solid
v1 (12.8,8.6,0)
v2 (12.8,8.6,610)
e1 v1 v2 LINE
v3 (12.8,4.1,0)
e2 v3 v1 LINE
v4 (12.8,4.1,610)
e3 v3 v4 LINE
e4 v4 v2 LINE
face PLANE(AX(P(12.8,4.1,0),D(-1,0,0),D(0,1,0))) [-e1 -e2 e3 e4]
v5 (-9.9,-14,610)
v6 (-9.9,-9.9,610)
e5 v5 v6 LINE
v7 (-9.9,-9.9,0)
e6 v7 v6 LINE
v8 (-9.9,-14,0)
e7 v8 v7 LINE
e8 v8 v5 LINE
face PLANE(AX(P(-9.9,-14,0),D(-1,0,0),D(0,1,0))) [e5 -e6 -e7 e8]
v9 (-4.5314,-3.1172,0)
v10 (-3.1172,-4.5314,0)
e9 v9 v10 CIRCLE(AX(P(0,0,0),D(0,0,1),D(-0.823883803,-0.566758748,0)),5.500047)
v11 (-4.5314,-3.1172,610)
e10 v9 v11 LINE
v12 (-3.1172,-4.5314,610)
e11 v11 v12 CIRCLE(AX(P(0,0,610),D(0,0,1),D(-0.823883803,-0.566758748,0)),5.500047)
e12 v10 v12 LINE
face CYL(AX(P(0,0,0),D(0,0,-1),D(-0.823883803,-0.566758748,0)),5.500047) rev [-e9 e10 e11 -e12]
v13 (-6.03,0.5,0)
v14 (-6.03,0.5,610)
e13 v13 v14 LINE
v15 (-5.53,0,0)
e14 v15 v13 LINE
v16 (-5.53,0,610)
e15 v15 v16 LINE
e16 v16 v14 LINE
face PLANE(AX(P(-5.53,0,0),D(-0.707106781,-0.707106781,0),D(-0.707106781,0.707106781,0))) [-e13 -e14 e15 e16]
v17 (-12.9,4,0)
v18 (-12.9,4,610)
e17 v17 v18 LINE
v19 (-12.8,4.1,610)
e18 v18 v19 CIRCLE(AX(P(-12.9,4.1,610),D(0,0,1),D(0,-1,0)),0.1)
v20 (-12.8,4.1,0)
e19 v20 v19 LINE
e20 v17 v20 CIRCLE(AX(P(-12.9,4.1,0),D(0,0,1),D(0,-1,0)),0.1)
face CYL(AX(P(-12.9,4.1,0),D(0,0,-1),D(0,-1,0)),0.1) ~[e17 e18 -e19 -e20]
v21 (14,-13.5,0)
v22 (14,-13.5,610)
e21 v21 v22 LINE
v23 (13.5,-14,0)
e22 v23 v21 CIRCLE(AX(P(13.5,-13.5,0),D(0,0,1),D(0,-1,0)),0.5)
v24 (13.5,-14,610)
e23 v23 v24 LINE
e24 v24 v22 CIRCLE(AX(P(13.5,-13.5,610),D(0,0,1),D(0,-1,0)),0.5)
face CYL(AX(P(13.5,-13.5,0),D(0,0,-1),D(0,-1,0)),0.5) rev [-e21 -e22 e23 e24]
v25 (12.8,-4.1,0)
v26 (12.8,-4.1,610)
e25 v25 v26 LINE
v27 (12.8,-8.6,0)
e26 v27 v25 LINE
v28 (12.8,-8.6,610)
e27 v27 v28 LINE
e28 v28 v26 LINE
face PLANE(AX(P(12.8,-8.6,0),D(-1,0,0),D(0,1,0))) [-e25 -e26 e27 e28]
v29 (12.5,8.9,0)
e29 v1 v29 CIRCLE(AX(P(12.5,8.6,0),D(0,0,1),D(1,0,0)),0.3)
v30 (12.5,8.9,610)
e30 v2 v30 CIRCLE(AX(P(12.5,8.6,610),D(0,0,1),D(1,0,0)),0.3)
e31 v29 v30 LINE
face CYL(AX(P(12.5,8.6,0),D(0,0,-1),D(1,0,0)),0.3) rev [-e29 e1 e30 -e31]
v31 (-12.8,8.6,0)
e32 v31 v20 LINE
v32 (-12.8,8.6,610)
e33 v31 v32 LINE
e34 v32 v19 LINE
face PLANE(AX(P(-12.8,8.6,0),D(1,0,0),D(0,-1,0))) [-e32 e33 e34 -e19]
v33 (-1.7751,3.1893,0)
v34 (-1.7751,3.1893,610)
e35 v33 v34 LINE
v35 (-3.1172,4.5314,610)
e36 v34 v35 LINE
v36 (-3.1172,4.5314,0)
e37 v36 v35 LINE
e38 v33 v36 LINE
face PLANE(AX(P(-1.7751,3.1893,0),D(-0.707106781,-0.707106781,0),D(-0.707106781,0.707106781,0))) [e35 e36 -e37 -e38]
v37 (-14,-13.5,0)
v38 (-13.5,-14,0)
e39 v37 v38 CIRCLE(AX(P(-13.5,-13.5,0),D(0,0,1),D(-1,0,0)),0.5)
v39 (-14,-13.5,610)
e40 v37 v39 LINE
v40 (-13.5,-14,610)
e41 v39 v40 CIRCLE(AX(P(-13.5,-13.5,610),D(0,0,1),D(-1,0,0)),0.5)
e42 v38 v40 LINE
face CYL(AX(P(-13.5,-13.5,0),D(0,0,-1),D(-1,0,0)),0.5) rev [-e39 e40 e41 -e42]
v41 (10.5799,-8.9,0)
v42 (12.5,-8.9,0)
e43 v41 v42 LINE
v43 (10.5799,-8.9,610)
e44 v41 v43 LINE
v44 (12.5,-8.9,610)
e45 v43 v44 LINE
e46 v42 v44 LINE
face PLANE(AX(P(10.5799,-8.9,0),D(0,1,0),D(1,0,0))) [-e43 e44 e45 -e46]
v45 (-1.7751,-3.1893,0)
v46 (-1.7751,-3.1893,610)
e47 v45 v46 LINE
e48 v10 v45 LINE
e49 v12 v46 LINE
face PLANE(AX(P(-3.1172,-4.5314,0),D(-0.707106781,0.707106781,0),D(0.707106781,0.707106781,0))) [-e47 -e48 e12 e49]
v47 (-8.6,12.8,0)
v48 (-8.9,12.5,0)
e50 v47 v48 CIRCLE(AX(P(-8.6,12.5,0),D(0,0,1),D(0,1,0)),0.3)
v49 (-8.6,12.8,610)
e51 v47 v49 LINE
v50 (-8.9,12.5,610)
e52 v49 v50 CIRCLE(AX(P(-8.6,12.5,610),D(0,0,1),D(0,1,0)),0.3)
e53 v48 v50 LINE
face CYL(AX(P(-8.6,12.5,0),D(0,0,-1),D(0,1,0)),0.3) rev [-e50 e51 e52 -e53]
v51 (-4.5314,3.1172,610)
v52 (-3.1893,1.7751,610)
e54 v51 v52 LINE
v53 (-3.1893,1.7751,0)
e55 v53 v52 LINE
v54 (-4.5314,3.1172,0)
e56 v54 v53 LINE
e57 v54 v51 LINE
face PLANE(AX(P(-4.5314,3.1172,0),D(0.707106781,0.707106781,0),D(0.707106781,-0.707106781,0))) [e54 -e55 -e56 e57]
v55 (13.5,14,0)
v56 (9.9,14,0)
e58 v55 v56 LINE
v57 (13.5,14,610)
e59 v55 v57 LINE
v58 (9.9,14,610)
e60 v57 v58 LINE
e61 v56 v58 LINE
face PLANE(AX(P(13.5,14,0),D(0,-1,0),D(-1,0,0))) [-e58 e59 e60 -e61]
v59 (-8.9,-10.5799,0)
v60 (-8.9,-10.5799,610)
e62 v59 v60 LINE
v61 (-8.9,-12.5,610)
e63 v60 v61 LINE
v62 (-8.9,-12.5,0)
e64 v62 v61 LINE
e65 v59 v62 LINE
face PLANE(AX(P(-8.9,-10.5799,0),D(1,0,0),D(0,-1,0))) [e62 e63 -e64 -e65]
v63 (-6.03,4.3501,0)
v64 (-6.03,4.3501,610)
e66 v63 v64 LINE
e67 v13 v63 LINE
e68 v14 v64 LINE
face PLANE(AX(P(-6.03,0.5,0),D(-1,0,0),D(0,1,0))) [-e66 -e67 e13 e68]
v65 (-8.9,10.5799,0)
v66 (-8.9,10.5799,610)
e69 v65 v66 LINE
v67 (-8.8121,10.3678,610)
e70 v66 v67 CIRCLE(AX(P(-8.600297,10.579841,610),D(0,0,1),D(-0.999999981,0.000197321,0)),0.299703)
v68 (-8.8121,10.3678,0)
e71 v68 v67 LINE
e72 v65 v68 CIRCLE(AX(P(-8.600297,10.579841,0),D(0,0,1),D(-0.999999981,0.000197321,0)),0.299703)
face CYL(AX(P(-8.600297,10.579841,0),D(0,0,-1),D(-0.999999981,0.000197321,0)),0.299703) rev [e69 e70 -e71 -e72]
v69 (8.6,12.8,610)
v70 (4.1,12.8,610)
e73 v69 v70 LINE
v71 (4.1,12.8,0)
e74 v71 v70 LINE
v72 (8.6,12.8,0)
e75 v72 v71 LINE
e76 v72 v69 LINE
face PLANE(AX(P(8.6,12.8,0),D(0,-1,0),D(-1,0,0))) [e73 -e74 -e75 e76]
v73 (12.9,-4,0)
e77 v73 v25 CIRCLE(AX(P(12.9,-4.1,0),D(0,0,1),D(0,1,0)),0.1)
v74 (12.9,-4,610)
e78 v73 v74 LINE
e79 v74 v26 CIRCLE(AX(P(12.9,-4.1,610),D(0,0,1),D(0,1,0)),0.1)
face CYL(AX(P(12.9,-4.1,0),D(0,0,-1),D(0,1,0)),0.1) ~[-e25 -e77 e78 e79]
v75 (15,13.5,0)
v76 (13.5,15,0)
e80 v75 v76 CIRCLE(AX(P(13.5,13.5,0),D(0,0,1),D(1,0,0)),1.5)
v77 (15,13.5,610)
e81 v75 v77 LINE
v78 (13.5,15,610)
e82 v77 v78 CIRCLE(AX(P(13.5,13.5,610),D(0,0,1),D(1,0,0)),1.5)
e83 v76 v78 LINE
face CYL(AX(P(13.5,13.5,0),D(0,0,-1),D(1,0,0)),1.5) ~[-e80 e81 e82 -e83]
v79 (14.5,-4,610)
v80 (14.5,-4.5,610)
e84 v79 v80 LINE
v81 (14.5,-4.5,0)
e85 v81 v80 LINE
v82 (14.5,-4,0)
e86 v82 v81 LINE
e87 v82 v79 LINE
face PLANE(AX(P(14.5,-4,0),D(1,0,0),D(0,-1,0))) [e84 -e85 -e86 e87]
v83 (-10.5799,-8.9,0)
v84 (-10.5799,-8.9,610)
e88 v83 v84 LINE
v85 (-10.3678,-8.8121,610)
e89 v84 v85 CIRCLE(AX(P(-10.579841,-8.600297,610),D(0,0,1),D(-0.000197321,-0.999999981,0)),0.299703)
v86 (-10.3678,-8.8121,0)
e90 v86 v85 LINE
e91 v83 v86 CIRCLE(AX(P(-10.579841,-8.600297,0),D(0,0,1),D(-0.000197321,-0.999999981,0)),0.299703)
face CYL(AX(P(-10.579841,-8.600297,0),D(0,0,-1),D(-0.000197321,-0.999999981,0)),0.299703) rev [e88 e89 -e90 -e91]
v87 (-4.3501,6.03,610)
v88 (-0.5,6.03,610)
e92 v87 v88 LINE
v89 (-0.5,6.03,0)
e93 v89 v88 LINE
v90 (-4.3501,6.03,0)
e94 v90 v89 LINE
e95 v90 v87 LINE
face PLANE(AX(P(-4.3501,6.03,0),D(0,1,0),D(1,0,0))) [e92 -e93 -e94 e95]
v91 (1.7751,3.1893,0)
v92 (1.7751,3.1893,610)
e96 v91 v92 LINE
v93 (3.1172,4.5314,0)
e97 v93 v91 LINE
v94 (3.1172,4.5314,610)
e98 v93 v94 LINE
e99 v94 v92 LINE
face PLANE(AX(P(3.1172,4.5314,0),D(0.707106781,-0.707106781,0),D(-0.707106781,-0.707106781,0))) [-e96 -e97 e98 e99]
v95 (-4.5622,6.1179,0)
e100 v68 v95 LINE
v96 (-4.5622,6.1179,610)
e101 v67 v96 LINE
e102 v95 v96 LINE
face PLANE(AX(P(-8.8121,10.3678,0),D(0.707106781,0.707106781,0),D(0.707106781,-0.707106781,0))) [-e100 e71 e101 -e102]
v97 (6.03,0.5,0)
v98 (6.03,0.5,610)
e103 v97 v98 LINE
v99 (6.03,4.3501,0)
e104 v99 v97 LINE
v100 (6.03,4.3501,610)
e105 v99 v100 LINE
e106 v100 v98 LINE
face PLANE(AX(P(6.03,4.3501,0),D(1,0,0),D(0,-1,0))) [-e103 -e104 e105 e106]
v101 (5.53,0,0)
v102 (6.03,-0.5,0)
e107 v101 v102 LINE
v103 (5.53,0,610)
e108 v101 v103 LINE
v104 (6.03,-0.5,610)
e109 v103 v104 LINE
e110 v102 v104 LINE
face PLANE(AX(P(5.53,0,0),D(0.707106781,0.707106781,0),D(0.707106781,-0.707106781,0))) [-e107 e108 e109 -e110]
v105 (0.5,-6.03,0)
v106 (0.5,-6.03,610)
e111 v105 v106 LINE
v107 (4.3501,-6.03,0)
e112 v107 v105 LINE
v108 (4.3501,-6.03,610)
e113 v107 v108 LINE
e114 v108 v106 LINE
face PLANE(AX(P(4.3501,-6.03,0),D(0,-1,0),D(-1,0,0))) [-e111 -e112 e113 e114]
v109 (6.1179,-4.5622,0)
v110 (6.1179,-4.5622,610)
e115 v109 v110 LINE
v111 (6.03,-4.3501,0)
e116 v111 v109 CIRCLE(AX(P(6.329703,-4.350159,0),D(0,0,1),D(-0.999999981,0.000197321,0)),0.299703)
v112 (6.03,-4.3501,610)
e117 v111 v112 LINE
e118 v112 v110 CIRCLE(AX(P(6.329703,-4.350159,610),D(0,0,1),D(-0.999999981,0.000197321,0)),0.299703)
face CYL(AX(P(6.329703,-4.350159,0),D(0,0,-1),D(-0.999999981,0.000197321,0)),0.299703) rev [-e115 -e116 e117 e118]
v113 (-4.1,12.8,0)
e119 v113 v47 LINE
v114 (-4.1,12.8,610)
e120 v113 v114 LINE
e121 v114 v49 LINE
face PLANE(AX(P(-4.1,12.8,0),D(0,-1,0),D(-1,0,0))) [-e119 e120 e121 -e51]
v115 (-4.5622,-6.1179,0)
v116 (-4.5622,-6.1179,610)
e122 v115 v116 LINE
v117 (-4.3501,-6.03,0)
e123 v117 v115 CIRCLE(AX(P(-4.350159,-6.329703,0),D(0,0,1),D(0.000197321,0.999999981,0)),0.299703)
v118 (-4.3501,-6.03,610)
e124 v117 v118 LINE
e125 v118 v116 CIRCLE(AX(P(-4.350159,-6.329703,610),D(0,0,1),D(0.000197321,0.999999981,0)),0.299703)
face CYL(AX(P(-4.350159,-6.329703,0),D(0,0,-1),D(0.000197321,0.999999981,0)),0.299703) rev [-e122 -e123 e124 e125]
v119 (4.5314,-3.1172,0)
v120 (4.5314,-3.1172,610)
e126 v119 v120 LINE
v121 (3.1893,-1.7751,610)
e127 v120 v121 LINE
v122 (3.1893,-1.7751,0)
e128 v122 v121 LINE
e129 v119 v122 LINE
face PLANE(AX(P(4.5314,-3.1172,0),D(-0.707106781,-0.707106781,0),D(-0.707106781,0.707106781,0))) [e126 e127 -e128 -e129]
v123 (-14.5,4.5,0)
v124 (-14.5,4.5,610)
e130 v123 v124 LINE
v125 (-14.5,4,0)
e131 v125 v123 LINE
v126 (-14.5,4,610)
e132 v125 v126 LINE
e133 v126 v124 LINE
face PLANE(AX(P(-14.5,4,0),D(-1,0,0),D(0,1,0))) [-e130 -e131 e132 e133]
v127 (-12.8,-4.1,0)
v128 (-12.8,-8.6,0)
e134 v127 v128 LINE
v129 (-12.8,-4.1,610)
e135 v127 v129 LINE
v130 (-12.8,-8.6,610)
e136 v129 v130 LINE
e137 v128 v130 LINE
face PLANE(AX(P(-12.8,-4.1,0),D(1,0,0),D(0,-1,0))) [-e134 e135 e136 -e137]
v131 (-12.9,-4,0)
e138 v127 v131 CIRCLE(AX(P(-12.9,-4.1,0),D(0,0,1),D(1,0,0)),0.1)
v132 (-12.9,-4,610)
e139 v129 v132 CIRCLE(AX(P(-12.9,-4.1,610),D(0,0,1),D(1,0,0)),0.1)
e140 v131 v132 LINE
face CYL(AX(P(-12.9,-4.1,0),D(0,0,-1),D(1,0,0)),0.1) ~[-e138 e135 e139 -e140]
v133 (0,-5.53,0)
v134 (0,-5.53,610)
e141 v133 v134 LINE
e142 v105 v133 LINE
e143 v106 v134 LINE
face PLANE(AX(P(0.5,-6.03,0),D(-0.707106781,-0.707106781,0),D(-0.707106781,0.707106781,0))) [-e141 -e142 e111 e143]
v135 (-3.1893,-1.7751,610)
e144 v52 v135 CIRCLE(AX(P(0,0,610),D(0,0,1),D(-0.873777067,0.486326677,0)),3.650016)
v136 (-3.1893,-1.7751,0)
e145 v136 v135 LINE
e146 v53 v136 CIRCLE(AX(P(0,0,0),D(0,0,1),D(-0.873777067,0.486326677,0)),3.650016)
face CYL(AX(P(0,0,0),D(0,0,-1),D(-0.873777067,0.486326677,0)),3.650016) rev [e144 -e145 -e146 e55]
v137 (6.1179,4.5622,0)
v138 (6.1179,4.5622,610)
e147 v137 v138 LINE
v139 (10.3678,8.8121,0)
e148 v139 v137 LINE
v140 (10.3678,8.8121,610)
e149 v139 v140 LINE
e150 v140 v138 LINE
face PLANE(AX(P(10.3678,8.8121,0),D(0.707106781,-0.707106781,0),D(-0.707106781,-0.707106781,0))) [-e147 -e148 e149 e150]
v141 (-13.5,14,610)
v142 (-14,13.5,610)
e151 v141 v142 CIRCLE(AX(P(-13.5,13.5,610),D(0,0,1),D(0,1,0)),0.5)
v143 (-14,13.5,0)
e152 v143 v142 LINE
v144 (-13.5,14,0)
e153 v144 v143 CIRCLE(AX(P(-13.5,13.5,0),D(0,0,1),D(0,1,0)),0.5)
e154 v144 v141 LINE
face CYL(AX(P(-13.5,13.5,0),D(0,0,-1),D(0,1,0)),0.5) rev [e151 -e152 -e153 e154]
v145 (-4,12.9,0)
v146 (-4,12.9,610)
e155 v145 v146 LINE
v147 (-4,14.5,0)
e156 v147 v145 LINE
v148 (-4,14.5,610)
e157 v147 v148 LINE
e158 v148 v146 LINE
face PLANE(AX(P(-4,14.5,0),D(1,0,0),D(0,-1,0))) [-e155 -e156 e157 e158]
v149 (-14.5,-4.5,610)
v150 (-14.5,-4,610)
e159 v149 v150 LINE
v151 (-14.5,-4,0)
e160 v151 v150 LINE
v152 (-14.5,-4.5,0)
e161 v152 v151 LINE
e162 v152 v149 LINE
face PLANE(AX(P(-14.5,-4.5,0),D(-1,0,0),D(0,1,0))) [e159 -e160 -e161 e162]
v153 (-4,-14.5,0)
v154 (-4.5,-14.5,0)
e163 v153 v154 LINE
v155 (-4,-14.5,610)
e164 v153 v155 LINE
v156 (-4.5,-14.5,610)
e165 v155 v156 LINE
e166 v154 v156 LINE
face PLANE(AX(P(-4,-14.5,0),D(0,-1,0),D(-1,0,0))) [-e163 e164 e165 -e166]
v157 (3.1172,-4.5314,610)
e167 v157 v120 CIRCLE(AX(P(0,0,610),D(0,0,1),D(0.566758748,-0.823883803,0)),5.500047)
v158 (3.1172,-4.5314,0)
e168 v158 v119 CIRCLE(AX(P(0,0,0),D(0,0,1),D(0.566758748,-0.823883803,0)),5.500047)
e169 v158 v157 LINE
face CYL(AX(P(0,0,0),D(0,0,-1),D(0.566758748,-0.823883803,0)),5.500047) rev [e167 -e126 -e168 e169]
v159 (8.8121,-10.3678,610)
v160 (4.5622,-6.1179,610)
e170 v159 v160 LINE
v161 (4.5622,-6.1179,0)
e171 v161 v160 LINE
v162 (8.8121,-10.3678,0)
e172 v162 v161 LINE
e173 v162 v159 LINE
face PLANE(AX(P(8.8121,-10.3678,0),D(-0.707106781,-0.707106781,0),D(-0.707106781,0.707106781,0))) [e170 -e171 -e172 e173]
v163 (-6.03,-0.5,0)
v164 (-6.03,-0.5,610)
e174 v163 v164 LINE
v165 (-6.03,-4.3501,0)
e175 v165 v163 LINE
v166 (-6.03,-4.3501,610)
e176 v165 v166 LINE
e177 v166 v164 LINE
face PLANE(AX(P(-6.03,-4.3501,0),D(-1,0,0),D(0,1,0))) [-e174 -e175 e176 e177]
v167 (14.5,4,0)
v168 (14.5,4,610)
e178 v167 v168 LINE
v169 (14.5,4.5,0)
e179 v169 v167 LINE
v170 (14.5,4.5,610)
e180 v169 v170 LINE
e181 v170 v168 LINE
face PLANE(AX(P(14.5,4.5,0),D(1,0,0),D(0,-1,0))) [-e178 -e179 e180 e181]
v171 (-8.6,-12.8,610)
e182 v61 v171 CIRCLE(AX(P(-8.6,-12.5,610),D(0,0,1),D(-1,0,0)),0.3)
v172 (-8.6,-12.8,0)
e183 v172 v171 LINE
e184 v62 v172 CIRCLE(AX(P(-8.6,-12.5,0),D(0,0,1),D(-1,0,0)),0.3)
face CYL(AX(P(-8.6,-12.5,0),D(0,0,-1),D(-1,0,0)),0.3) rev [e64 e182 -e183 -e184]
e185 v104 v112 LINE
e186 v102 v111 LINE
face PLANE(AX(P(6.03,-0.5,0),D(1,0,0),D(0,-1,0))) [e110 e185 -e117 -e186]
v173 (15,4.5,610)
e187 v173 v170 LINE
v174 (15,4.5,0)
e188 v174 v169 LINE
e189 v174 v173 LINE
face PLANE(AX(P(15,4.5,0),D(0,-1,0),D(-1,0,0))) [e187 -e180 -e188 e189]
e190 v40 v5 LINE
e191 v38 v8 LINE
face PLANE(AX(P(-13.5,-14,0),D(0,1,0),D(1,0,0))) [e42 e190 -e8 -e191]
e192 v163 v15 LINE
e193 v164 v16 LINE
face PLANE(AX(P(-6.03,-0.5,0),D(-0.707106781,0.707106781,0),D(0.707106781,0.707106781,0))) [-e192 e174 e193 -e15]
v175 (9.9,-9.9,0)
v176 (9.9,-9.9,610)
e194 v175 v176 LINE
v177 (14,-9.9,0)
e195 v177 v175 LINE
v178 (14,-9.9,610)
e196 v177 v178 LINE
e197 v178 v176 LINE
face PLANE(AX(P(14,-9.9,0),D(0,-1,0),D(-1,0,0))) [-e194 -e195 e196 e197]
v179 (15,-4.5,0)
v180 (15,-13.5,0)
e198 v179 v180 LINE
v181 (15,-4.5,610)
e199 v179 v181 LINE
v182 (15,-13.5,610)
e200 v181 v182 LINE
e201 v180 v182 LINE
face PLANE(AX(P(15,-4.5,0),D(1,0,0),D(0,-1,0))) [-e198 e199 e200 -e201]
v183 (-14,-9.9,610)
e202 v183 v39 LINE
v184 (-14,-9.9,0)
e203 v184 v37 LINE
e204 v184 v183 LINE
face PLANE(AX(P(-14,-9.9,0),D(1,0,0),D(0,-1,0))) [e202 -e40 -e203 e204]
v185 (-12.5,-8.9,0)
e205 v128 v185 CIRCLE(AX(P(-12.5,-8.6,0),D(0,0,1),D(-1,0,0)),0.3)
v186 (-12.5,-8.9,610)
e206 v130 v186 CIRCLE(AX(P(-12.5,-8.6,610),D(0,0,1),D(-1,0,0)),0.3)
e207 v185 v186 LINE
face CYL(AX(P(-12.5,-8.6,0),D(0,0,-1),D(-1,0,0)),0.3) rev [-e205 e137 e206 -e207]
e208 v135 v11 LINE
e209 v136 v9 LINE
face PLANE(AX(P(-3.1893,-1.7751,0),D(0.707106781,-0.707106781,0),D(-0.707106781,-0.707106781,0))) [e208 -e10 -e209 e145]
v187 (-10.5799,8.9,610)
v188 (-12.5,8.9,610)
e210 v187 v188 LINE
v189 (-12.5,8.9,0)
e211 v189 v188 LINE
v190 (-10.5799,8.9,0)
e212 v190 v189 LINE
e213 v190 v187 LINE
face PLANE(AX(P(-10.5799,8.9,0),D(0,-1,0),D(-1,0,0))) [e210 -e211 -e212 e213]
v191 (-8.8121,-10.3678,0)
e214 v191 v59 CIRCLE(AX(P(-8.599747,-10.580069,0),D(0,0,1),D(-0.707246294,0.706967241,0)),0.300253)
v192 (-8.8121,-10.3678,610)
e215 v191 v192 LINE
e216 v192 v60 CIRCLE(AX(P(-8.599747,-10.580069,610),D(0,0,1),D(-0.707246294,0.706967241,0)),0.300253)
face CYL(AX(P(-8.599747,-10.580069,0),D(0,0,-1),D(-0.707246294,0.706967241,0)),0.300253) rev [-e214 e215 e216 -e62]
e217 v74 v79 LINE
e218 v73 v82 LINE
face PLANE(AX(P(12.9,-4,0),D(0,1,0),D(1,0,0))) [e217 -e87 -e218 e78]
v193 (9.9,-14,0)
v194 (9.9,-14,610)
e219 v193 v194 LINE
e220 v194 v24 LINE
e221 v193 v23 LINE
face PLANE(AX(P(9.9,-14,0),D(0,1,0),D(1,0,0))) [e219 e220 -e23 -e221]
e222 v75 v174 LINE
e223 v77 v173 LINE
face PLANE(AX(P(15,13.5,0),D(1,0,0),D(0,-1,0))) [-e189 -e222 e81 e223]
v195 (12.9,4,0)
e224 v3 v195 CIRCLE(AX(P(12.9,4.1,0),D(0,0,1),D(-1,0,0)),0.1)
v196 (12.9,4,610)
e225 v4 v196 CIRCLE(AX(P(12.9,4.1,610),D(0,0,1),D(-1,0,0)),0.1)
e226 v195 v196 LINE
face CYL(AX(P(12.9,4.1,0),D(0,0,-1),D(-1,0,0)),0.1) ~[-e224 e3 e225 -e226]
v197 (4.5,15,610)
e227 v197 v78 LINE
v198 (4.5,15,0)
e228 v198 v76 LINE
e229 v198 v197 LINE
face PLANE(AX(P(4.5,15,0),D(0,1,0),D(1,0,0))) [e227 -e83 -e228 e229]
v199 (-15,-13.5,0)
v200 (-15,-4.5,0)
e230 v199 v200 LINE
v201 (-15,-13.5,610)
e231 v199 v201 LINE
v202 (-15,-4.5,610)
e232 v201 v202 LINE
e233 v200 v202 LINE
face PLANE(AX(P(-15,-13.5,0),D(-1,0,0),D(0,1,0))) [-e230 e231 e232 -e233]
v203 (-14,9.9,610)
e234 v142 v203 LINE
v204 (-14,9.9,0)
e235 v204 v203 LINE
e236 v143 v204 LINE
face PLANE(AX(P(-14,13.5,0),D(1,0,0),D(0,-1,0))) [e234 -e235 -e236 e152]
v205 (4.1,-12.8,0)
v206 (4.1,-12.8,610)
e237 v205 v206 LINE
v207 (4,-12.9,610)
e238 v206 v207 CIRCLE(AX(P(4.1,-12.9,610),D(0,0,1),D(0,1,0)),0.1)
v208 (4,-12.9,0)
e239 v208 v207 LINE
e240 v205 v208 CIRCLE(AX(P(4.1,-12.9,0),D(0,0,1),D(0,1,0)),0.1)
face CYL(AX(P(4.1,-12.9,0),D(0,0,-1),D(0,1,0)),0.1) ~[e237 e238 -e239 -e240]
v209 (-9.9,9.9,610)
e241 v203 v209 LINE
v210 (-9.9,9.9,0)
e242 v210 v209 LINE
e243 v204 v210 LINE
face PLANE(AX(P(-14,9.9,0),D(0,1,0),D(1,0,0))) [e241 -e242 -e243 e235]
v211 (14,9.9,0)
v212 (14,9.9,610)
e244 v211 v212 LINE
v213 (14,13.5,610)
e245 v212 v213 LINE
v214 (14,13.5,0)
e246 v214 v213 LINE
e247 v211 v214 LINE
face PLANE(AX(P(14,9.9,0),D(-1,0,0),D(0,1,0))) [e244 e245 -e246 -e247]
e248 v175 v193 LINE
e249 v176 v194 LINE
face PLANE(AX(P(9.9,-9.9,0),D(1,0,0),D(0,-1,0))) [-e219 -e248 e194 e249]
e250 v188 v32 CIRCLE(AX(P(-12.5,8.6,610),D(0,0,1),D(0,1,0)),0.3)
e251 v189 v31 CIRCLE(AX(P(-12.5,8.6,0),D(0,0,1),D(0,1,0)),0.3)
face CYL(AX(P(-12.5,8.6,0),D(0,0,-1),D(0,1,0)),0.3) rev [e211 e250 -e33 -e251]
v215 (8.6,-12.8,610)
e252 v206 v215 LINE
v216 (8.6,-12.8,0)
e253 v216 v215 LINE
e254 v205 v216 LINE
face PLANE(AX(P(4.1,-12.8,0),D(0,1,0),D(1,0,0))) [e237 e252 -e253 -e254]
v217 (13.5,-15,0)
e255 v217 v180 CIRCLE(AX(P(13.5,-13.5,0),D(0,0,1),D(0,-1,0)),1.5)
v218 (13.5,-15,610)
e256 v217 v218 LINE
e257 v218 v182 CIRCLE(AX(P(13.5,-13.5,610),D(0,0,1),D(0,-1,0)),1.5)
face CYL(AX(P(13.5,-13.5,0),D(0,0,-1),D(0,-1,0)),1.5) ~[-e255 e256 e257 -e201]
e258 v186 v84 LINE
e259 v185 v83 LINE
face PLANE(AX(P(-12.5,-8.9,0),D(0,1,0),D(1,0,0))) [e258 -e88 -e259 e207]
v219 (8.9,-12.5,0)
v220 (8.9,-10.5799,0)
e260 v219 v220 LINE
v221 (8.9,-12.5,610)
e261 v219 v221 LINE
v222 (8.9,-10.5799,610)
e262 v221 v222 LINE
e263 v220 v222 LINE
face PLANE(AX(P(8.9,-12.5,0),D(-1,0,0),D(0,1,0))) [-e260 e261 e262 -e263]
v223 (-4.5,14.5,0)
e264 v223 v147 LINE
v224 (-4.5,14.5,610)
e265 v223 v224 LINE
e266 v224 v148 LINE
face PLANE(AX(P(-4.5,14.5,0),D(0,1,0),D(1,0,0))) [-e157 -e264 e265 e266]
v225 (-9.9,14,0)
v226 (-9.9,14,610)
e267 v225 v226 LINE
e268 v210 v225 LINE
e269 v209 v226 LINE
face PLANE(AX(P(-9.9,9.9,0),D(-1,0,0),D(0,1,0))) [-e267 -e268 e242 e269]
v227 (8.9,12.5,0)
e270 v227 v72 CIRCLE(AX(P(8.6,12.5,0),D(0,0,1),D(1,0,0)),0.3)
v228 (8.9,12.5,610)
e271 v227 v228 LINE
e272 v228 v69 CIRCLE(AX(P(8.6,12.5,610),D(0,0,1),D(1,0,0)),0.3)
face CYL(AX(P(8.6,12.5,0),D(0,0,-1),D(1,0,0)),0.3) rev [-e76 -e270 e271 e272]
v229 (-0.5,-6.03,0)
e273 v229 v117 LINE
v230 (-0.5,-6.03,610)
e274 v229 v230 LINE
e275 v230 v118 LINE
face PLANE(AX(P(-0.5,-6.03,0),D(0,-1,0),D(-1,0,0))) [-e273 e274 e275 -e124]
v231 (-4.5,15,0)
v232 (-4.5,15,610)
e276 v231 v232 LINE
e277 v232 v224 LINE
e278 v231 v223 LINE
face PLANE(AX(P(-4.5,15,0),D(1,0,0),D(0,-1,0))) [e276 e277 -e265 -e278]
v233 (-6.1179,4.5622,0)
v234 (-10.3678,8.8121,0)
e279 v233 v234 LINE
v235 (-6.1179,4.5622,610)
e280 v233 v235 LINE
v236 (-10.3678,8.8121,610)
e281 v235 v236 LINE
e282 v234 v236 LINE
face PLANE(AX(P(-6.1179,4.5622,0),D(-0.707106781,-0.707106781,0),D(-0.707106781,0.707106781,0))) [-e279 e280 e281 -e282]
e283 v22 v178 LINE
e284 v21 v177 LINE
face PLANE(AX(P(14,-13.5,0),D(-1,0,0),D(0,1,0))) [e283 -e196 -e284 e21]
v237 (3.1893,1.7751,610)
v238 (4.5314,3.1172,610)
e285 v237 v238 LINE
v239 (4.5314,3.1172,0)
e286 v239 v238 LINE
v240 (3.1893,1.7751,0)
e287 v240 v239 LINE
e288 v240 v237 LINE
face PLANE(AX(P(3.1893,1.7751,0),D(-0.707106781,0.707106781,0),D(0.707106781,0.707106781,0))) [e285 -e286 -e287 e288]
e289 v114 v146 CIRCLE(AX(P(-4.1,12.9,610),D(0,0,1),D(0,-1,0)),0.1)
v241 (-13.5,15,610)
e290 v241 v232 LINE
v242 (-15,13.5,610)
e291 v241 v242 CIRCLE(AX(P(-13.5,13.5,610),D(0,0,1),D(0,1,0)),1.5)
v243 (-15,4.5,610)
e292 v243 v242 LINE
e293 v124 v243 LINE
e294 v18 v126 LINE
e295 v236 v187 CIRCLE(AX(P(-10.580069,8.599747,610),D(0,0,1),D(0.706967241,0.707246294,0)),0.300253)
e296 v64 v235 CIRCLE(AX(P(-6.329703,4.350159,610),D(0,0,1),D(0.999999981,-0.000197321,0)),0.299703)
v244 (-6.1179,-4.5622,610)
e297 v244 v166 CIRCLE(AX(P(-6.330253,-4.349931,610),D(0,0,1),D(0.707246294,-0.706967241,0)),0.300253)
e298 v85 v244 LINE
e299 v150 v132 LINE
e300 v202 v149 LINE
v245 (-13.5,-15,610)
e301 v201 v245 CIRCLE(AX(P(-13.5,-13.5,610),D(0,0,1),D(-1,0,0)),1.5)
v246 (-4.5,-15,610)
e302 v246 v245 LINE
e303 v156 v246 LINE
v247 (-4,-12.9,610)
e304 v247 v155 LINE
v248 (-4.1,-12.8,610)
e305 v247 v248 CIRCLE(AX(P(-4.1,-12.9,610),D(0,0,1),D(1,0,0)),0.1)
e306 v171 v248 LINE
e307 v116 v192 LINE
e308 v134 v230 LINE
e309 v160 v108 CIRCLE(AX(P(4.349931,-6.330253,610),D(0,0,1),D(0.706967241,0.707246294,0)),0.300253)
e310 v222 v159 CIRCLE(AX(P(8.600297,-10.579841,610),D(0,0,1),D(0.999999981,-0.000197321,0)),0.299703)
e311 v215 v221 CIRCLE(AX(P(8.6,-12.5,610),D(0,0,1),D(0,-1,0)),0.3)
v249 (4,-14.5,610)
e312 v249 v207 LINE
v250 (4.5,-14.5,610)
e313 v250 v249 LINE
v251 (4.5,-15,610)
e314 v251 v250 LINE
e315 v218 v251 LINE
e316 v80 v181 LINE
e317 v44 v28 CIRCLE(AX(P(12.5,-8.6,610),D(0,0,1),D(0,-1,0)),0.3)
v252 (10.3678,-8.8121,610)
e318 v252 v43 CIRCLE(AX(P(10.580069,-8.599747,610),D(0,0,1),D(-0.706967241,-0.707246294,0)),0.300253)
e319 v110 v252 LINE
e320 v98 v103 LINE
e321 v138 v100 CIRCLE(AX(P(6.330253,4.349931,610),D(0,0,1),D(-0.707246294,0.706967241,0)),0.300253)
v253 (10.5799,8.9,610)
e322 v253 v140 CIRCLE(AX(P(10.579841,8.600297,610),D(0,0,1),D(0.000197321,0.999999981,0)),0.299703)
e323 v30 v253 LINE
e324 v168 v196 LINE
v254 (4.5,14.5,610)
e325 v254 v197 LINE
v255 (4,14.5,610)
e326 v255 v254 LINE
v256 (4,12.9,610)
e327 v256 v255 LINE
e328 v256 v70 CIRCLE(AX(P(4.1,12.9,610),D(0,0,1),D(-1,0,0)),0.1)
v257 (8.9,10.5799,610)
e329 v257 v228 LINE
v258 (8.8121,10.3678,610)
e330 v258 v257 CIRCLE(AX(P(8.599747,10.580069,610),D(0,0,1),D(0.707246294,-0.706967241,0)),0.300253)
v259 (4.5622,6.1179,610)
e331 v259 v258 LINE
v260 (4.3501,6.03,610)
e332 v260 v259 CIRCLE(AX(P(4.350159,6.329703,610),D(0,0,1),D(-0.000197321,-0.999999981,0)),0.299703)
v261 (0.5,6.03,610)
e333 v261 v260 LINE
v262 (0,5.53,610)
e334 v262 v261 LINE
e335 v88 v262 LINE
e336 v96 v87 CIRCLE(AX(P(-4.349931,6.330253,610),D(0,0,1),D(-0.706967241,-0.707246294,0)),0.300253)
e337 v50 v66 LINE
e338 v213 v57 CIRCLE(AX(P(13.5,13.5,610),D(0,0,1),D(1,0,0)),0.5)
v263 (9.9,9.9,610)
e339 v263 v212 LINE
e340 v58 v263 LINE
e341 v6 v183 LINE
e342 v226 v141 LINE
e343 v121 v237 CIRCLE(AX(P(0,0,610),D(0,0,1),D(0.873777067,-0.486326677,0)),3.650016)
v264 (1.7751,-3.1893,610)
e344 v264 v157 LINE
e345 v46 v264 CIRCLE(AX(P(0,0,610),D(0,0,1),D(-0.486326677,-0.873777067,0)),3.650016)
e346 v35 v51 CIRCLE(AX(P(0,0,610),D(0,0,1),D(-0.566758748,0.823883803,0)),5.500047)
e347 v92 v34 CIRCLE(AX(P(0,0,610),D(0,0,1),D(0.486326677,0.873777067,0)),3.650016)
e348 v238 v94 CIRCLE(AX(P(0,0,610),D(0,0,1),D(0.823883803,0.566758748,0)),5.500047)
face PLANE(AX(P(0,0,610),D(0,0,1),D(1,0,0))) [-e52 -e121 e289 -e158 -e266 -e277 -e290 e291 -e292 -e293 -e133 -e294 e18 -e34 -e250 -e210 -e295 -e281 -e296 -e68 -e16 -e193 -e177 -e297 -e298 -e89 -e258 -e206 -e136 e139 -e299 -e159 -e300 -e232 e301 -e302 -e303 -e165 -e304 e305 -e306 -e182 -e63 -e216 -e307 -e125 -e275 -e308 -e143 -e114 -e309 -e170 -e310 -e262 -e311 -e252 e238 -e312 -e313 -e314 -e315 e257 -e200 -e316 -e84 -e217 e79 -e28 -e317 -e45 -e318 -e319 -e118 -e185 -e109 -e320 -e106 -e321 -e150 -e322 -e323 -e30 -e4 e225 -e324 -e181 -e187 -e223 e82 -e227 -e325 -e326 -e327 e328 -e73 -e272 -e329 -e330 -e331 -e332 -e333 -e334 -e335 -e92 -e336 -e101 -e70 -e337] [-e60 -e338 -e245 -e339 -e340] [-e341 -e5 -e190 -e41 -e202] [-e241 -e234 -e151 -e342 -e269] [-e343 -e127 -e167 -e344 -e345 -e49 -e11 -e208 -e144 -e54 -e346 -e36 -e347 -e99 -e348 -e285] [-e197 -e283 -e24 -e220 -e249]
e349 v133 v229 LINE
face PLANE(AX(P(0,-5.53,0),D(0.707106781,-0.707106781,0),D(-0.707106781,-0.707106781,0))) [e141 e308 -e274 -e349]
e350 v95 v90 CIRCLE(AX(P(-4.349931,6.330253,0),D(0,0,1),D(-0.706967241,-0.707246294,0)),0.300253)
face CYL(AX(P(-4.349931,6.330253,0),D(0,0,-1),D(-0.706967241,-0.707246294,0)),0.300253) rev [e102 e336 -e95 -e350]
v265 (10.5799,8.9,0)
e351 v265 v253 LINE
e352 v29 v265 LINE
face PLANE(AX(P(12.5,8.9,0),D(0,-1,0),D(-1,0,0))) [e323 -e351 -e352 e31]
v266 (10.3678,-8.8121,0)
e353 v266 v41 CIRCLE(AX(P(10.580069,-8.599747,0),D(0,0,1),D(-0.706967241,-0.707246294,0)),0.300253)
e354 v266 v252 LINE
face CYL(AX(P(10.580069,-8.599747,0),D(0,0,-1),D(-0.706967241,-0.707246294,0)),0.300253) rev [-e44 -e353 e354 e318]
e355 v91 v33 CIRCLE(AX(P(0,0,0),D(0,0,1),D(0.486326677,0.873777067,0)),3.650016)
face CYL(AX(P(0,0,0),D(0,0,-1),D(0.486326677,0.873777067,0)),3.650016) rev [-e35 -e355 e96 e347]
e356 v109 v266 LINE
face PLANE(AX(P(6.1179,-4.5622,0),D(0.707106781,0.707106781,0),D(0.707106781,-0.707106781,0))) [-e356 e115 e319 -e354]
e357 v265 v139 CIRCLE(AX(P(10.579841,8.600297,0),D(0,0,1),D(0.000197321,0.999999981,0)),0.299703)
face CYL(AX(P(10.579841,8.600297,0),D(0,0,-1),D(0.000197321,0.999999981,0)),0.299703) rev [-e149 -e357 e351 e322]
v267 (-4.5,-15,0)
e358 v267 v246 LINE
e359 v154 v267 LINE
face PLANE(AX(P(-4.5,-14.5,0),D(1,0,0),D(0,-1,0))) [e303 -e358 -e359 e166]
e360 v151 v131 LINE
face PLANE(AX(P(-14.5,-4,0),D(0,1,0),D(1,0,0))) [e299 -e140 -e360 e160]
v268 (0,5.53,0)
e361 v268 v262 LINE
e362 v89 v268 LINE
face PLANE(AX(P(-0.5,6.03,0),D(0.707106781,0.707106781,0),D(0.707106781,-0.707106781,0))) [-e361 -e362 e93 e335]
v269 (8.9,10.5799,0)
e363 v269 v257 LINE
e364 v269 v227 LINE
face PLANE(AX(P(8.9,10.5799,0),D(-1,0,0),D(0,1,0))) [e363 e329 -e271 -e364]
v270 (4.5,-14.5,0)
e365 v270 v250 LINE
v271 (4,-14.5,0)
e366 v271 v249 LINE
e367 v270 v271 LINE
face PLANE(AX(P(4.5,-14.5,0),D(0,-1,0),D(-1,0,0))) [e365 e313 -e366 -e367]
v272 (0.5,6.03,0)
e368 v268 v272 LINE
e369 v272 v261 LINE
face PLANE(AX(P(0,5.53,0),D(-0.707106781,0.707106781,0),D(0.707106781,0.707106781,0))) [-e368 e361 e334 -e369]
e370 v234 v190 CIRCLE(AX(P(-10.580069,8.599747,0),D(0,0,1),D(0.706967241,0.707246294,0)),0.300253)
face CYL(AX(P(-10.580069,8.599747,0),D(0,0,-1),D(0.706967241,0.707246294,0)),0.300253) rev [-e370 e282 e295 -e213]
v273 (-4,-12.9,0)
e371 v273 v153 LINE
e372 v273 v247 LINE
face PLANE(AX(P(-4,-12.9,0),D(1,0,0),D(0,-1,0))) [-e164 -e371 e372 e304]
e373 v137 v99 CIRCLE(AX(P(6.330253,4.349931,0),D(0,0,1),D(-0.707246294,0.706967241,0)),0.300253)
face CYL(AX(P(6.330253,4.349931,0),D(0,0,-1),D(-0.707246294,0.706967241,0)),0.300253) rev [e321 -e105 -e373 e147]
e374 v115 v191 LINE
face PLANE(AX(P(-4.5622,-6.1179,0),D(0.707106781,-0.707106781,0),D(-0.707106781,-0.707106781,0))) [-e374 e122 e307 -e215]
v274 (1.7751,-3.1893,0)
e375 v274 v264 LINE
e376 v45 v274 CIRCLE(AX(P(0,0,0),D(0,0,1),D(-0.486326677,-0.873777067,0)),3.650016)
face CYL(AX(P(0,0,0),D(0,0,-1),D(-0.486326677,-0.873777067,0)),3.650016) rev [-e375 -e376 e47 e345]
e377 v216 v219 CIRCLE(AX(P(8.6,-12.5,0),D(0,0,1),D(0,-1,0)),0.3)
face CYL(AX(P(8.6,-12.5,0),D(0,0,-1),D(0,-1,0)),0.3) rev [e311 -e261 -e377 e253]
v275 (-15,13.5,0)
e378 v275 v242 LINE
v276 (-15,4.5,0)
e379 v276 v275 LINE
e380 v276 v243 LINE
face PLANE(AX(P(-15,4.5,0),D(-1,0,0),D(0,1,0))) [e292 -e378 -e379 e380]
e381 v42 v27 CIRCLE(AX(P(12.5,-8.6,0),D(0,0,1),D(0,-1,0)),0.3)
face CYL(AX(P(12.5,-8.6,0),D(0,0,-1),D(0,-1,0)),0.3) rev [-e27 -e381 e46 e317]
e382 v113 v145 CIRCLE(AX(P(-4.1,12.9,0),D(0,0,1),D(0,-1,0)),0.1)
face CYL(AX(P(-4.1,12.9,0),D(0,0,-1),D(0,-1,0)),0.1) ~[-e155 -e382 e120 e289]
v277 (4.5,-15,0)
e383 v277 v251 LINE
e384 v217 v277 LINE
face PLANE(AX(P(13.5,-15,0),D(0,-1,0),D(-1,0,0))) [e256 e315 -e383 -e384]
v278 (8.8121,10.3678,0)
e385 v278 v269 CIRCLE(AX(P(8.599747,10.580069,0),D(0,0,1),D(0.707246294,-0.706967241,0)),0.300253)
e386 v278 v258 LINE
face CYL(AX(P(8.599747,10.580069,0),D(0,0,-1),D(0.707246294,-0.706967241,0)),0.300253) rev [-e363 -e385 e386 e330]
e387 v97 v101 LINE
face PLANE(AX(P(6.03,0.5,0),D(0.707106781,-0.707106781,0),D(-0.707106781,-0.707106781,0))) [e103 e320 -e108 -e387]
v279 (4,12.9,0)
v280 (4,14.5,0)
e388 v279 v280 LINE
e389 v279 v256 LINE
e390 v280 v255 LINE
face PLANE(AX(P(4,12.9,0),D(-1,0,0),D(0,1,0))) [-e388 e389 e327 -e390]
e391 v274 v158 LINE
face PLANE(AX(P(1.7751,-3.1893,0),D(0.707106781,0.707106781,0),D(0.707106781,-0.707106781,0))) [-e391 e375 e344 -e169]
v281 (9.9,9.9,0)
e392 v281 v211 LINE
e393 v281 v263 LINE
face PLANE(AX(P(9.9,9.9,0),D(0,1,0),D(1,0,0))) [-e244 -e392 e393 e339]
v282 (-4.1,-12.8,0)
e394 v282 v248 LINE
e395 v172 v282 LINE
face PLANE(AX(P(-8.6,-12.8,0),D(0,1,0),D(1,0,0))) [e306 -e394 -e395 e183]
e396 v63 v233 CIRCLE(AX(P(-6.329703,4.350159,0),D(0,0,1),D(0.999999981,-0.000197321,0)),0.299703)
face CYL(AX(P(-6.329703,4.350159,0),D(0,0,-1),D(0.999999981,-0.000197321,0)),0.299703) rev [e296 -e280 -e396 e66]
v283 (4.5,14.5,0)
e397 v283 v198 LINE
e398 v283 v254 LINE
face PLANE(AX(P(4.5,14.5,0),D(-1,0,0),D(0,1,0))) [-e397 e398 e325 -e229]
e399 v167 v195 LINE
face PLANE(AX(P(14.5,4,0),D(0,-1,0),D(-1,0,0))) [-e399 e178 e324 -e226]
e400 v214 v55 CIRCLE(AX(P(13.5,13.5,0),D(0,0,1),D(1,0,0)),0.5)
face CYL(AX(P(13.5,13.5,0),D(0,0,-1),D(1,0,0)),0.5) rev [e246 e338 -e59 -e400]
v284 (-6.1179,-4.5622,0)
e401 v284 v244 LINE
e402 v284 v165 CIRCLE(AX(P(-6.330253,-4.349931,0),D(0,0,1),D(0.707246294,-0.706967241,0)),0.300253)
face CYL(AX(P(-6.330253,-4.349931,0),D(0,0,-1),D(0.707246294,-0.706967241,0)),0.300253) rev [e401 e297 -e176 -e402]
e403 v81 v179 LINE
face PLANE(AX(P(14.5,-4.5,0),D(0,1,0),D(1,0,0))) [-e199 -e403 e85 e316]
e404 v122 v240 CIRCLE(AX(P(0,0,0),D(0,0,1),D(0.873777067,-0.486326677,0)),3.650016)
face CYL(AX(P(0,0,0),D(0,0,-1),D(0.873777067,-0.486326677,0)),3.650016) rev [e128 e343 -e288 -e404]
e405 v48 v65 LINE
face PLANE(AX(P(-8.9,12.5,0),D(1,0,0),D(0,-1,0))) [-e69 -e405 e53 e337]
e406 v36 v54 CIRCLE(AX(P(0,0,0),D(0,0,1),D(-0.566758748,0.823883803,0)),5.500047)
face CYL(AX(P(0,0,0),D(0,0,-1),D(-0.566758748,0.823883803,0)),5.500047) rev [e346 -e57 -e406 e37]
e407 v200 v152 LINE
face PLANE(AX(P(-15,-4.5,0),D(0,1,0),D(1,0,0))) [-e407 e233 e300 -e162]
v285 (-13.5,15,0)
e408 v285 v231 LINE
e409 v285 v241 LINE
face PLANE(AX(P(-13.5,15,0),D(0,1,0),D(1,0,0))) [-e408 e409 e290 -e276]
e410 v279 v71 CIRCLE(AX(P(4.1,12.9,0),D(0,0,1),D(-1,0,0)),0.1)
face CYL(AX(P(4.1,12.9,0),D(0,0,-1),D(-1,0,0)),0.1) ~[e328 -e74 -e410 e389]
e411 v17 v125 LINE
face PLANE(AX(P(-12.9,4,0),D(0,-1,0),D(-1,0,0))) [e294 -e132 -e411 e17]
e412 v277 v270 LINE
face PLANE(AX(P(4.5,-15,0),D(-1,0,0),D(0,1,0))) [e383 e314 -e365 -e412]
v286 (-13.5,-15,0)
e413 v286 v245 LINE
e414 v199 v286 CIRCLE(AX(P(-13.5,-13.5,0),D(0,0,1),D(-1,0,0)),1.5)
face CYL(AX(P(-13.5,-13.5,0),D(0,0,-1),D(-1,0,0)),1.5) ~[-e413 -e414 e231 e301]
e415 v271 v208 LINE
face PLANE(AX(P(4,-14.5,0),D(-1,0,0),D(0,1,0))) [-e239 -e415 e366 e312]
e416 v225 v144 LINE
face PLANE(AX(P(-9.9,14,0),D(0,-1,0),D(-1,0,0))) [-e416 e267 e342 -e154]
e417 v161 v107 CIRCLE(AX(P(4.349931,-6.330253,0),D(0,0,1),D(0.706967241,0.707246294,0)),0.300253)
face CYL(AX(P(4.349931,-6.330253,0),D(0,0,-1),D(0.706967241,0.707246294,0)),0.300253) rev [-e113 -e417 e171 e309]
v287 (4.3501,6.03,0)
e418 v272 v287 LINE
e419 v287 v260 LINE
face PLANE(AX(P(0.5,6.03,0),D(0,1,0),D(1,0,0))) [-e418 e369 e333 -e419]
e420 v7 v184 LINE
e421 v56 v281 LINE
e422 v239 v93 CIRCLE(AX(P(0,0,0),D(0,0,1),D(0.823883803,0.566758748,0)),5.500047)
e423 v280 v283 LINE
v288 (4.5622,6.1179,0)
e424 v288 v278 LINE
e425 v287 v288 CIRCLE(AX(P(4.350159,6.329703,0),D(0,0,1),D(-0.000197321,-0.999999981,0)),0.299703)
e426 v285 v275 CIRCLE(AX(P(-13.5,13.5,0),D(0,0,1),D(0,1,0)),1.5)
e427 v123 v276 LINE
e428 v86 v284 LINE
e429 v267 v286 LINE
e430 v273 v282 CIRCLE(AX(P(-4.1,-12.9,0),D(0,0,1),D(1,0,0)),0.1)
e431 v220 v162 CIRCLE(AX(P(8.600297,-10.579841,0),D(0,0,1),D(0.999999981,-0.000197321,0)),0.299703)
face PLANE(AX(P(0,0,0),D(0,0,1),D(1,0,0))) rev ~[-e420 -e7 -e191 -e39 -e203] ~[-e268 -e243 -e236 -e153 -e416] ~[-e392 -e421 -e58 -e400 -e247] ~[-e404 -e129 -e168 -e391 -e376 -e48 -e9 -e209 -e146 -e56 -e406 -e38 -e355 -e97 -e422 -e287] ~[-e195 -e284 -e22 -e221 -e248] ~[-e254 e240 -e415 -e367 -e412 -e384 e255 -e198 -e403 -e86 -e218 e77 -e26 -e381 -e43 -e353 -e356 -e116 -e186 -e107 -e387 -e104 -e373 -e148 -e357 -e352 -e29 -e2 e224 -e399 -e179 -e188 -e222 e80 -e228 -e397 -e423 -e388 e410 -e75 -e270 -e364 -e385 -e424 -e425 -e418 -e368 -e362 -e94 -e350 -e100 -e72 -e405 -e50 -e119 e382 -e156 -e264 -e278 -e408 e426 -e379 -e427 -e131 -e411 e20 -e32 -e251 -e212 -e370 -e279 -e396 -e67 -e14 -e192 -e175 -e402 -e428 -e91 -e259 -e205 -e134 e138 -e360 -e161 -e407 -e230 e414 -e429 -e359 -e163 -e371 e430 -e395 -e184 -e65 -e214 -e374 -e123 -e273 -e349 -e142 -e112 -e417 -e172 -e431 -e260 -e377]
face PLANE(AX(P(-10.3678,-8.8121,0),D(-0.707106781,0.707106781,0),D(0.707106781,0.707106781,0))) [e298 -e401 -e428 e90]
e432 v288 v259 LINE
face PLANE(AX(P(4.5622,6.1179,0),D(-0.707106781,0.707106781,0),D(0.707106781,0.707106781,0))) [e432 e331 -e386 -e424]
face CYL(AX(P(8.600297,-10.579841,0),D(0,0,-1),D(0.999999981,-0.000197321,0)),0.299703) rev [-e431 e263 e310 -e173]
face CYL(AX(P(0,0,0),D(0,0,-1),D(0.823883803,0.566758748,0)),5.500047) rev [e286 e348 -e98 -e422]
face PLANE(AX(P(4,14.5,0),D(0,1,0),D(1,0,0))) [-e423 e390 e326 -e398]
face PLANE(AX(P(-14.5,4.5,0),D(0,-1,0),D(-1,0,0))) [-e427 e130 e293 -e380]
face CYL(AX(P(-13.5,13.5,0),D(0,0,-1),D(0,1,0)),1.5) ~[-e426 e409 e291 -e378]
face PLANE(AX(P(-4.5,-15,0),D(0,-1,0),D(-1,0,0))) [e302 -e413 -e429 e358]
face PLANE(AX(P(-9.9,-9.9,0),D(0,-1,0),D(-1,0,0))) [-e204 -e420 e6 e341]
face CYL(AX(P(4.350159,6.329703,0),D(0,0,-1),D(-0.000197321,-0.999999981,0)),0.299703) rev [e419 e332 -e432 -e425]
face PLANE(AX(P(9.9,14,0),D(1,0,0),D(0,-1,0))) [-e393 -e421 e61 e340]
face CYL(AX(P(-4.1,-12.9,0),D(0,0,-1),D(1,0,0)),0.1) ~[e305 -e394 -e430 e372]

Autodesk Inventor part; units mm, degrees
ref_plane "YZ Plane" through (0, 0, 0) normal (1, 0, 0) x (0, 1, 0)
ref_plane "Płaszczyzna początkowa" through (0, 0, 0) normal (0, 0, 1) x (1, 0, 0)
ref_plane "Płaszczyzna końcowa" through (0, 0, 610) normal (0, 0, 1) x (1, 0, 0)
sketch "Szkic" plane through (0, 0, 0) normal (0, 0, 1) x (1, 0, 0)
  line L0 (1.7751, -3.1893) -> (3.1172, -4.5314)
  arc A0 (-1.7751, -3.1893) -> (1.7751, -3.1893) centre (0, 0) ccw
  line L1 (-3.1172, -4.5314) -> (-1.7751, -3.1893)
  arc A1 (-4.5314, -3.1172) -> (-3.1172, -4.5314) centre (0, 0) ccw
  line L2 (-3.1893, -1.7751) -> (-4.5314, -3.1172)
  arc A2 (-3.1893, 1.7751) -> (-3.1893, -1.7751) centre (0, 0) ccw
  line L3 (-4.5314, 3.1172) -> (-3.1893, 1.7751)
  arc A3 (-3.1172, 4.5314) -> (-4.5314, 3.1172) centre (0, 0) ccw
  line L4 (-1.7751, 3.1893) -> (-3.1172, 4.5314)
  arc A4 (1.7751, 3.1893) -> (-1.7751, 3.1893) centre (0, 0) ccw
  line L5 (3.1172, 4.5314) -> (1.7751, 3.1893)
  arc A5 (4.5314, 3.1172) -> (3.1172, 4.5314) centre (0, 0) ccw
  line L6 (3.1893, 1.7751) -> (4.5314, 3.1172)
  arc A6 (3.1893, -1.7751) -> (3.1893, 1.7751) centre (0, 0) ccw
  line L7 (4.5314, -3.1172) -> (3.1893, -1.7751)
  arc A7 (3.1172, -4.5314) -> (4.5314, -3.1172) centre (0, 0) ccw
  line L8 (14, -13.5) -> (14, -9.9)
  arc A8 (13.5, -14) -> (14, -13.5) centre (13.5, -13.5) ccw
  line L9 (9.9, -14) -> (13.5, -14)
  line L10 (9.9, -9.9) -> (9.9, -14)
  line L11 (14, -9.9) -> (9.9, -9.9)
  line L12 (-9.9, -9.9) -> (-14, -9.9)
  line L13 (-9.9, -14) -> (-9.9, -9.9)
  line L14 (-13.5, -14) -> (-9.9, -14)
  arc A9 (-14, -13.5) -> (-13.5, -14) centre (-13.5, -13.5) ccw
  line L15 (-14, -9.9) -> (-14, -13.5)
  line L16 (14, 9.9) -> (14, 13.5)
  line L17 (9.9, 9.9) -> (14, 9.9)
  line L18 (9.9, 14) -> (9.9, 9.9)
  line L19 (13.5, 14) -> (9.9, 14)
  arc A10 (14, 13.5) -> (13.5, 14) centre (13.5, 13.5) ccw
  line L20 (-14, 9.9) -> (-9.9, 9.9)
  line L21 (-14, 13.5) -> (-14, 9.9)
  arc A11 (-13.5, 14) -> (-14, 13.5) centre (-13.5, 13.5) ccw
  line L22 (-9.9, 14) -> (-13.5, 14)
  line L23 (-9.9, 9.9) -> (-9.9, 14)
  line L24 (13.5, -15) -> (4.5, -15)
  arc A12 (13.5, -15) -> (15, -13.5) centre (13.5, -13.5) ccw
  line L25 (15, -4.5) -> (15, -13.5)
  line L26 (14.5, -4.5) -> (15, -4.5)
  line L27 (14.5, -4) -> (14.5, -4.5)
  line L28 (12.9, -4) -> (14.5, -4)
  arc A13 (12.9, -4) -> (12.8, -4.1) centre (12.9, -4.1) ccw
  line L29 (12.8, -8.6) -> (12.8, -4.1)
  arc A14 (12.5, -8.9) -> (12.8, -8.6) centre (12.5, -8.6) ccw
  line L30 (10.5799, -8.9) -> (12.5, -8.9)
  arc A15 (10.3678, -8.8121) -> (10.5799, -8.9) centre (10.5799, -8.6) ccw
  line L31 (6.1179, -4.5622) -> (10.3678, -8.8121)
  arc A16 (6.03, -4.3501) -> (6.1179, -4.5622) centre (6.33, -4.3501) ccw
  line L32 (6.03, -0.5) -> (6.03, -4.3501)
  line L33 (5.53, 0) -> (6.03, -0.5)
  line L34 (6.03, 0.5) -> (5.53, 0)
  line L35 (6.03, 4.3501) -> (6.03, 0.5)
  arc A17 (6.1179, 4.5622) -> (6.03, 4.3501) centre (6.33, 4.3501) ccw
  line L36 (10.3678, 8.8121) -> (6.1179, 4.5622)
  arc A18 (10.5799, 8.9) -> (10.3678, 8.8121) centre (10.5799, 8.6) ccw
  line L37 (12.5, 8.9) -> (10.5799, 8.9)
  arc A19 (12.8, 8.6) -> (12.5, 8.9) centre (12.5, 8.6) ccw
  line L38 (12.8, 4.1) -> (12.8, 8.6)
  arc A20 (12.8, 4.1) -> (12.9, 4) centre (12.9, 4.1) ccw
  line L39 (14.5, 4) -> (12.9, 4)
  line L40 (14.5, 4.5) -> (14.5, 4)
  line L41 (15, 4.5) -> (14.5, 4.5)
  line L42 (15, 13.5) -> (15, 4.5)
  arc A21 (15, 13.5) -> (13.5, 15) centre (13.5, 13.5) ccw
  line L43 (4.5, 15) -> (13.5, 15)
  line L44 (4.5, 14.5) -> (4.5, 15)
  line L45 (4, 14.5) -> (4.5, 14.5)
  line L46 (4, 12.9) -> (4, 14.5)
  arc A22 (4, 12.9) -> (4.1, 12.8) centre (4.1, 12.9) ccw
  line L47 (8.6, 12.8) -> (4.1, 12.8)
  arc A23 (8.9, 12.5) -> (8.6, 12.8) centre (8.6, 12.5) ccw
  line L48 (8.9, 10.5799) -> (8.9, 12.5)
  arc A24 (8.8121, 10.3678) -> (8.9, 10.5799) centre (8.6, 10.5799) ccw
  line L49 (4.5622, 6.1179) -> (8.8121, 10.3678)
  arc A25 (4.3501, 6.03) -> (4.5622, 6.1179) centre (4.3501, 6.33) ccw
  line L50 (0.5, 6.03) -> (4.3501, 6.03)
  line L51 (0, 5.53) -> (0.5, 6.03)
  line L52 (-0.5, 6.03) -> (0, 5.53)
  line L53 (-4.3501, 6.03) -> (-0.5, 6.03)
  arc A26 (-4.5622, 6.1179) -> (-4.3501, 6.03) centre (-4.3501, 6.33) ccw
  line L54 (-8.8121, 10.3678) -> (-4.5622, 6.1179)
  arc A27 (-8.9, 10.5799) -> (-8.8121, 10.3678) centre (-8.6, 10.5799) ccw
  line L55 (-8.9, 12.5) -> (-8.9, 10.5799)
  arc A28 (-8.6, 12.8) -> (-8.9, 12.5) centre (-8.6, 12.5) ccw
  line L56 (-4.1, 12.8) -> (-8.6, 12.8)
  arc A29 (-4.1, 12.8) -> (-4, 12.9) centre (-4.1, 12.9) ccw
  line L57 (-4, 14.5) -> (-4, 12.9)
  line L58 (-4.5, 14.5) -> (-4, 14.5)
  line L59 (-4.5, 15) -> (-4.5, 14.5)
  line L60 (-13.5, 15) -> (-4.5, 15)
  arc A30 (-13.5, 15) -> (-15, 13.5) centre (-13.5, 13.5) ccw
  line L61 (-15, 4.5) -> (-15, 13.5)
  line L62 (-14.5, 4.5) -> (-15, 4.5)
  line L63 (-14.5, 4) -> (-14.5, 4.5)
  line L64 (-12.9, 4) -> (-14.5, 4)
  arc A31 (-12.9, 4) -> (-12.8, 4.1) centre (-12.9, 4.1) ccw
  line L65 (-12.8, 8.6) -> (-12.8, 4.1)
  arc A32 (-12.5, 8.9) -> (-12.8, 8.6) centre (-12.5, 8.6) ccw
  line L66 (-10.5799, 8.9) -> (-12.5, 8.9)
  arc A33 (-10.3678, 8.8121) -> (-10.5799, 8.9) centre (-10.5799, 8.6) ccw
  line L67 (-6.1179, 4.5622) -> (-10.3678, 8.8121)
  arc A34 (-6.03, 4.3501) -> (-6.1179, 4.5622) centre (-6.33, 4.3501) ccw
  line L68 (-6.03, 0.5) -> (-6.03, 4.3501)
  line L69 (-5.53, 0) -> (-6.03, 0.5)
  line L70 (-6.03, -0.5) -> (-5.53, 0)
  line L71 (-6.03, -4.3501) -> (-6.03, -0.5)
  arc A35 (-6.1179, -4.5622) -> (-6.03, -4.3501) centre (-6.33, -4.3501) ccw
  line L72 (-10.3678, -8.8121) -> (-6.1179, -4.5622)
  arc A36 (-10.5799, -8.9) -> (-10.3678, -8.8121) centre (-10.5799, -8.6) ccw
  line L73 (-12.5, -8.9) -> (-10.5799, -8.9)
  arc A37 (-12.8, -8.6) -> (-12.5, -8.9) centre (-12.5, -8.6) ccw
  line L74 (-12.8, -4.1) -> (-12.8, -8.6)
  arc A38 (-12.8, -4.1) -> (-12.9, -4) centre (-12.9, -4.1) ccw
  line L75 (-14.5, -4) -> (-12.9, -4)
  line L76 (-14.5, -4.5) -> (-14.5, -4)
  line L77 (-15, -4.5) -> (-14.5, -4.5)
  line L78 (-15, -13.5) -> (-15, -4.5)
  arc A39 (-15, -13.5) -> (-13.5, -15) centre (-13.5, -13.5) ccw
  line L79 (-4.5, -15) -> (-13.5, -15)
  line L80 (-4.5, -14.5) -> (-4.5, -15)
  line L81 (-4, -14.5) -> (-4.5, -14.5)
  line L82 (-4, -12.9) -> (-4, -14.5)
  arc A40 (-4, -12.9) -> (-4.1, -12.8) centre (-4.1, -12.9) ccw
  line L83 (-8.6, -12.8) -> (-4.1, -12.8)
  arc A41 (-8.9, -12.5) -> (-8.6, -12.8) centre (-8.6, -12.5) ccw
  line L84 (-8.9, -10.5799) -> (-8.9, -12.5)
  arc A42 (-8.8121, -10.3678) -> (-8.9, -10.5799) centre (-8.6, -10.5799) ccw
  line L85 (-4.5622, -6.1179) -> (-8.8121, -10.3678)
  arc A43 (-4.3501, -6.03) -> (-4.5622, -6.1179) centre (-4.3501, -6.33) ccw
  line L86 (-0.5, -6.03) -> (-4.3501, -6.03)
  line L87 (0, -5.53) -> (-0.5, -6.03)
  line L88 (0.5, -6.03) -> (0, -5.53)
  line L89 (4.3501, -6.03) -> (0.5, -6.03)
  arc A44 (4.5622, -6.1179) -> (4.3501, -6.03) centre (4.3501, -6.33) ccw
  line L90 (8.8121, -10.3678) -> (4.5622, -6.1179)
  arc A45 (8.9, -10.5799) -> (8.8121, -10.3678) centre (8.6, -10.5799) ccw
  line L91 (8.9, -12.5) -> (8.9, -10.5799)
  arc A46 (8.6, -12.8) -> (8.9, -12.5) centre (8.6, -12.5) ccw
  line L92 (4.1, -12.8) -> (8.6, -12.8)
  arc A47 (4.1, -12.8) -> (4, -12.9) centre (4.1, -12.9) ccw
  line L93 (4, -14.5) -> (4, -12.9)
  line L94 (4.5, -14.5) -> (4, -14.5)
  line L95 (4.5, -15) -> (4.5, -14.5)
  point P0 (15, -15)
extrude "Bryła" add sketch "Szkic" along normal up to surface (610 mm away) from surface at 0
sketch "Szkic2" plane through (0, 0, 0) normal (0, 0, 1) x (1, 0, 0)
  line L0 (0, 0) -> (10, 0)
ref_plane "Płaszczyzna konstrukcyjna3" through (0, 0, 0) normal (0, -1, 0) x (1, 0, 0)
sketch "Szkic3" plane through (0, 0, 0) normal (0, -1, 0) x (1, 0, 0)
  line L0 (-2, 0) -> (12, 0)
  line L1 (-2, 610) -> (12, 610)
  dimension "d7" = 610
equation "\"G_OFFSET_START\" = 0"
equation "\"G_OFFSET_END\" = 0"
equation "\"G_L\" = d7"
properties part number "COTS_ARMA_AR3703_30x30_Alu_Extr_00000004" material "Aluminium 6061"
